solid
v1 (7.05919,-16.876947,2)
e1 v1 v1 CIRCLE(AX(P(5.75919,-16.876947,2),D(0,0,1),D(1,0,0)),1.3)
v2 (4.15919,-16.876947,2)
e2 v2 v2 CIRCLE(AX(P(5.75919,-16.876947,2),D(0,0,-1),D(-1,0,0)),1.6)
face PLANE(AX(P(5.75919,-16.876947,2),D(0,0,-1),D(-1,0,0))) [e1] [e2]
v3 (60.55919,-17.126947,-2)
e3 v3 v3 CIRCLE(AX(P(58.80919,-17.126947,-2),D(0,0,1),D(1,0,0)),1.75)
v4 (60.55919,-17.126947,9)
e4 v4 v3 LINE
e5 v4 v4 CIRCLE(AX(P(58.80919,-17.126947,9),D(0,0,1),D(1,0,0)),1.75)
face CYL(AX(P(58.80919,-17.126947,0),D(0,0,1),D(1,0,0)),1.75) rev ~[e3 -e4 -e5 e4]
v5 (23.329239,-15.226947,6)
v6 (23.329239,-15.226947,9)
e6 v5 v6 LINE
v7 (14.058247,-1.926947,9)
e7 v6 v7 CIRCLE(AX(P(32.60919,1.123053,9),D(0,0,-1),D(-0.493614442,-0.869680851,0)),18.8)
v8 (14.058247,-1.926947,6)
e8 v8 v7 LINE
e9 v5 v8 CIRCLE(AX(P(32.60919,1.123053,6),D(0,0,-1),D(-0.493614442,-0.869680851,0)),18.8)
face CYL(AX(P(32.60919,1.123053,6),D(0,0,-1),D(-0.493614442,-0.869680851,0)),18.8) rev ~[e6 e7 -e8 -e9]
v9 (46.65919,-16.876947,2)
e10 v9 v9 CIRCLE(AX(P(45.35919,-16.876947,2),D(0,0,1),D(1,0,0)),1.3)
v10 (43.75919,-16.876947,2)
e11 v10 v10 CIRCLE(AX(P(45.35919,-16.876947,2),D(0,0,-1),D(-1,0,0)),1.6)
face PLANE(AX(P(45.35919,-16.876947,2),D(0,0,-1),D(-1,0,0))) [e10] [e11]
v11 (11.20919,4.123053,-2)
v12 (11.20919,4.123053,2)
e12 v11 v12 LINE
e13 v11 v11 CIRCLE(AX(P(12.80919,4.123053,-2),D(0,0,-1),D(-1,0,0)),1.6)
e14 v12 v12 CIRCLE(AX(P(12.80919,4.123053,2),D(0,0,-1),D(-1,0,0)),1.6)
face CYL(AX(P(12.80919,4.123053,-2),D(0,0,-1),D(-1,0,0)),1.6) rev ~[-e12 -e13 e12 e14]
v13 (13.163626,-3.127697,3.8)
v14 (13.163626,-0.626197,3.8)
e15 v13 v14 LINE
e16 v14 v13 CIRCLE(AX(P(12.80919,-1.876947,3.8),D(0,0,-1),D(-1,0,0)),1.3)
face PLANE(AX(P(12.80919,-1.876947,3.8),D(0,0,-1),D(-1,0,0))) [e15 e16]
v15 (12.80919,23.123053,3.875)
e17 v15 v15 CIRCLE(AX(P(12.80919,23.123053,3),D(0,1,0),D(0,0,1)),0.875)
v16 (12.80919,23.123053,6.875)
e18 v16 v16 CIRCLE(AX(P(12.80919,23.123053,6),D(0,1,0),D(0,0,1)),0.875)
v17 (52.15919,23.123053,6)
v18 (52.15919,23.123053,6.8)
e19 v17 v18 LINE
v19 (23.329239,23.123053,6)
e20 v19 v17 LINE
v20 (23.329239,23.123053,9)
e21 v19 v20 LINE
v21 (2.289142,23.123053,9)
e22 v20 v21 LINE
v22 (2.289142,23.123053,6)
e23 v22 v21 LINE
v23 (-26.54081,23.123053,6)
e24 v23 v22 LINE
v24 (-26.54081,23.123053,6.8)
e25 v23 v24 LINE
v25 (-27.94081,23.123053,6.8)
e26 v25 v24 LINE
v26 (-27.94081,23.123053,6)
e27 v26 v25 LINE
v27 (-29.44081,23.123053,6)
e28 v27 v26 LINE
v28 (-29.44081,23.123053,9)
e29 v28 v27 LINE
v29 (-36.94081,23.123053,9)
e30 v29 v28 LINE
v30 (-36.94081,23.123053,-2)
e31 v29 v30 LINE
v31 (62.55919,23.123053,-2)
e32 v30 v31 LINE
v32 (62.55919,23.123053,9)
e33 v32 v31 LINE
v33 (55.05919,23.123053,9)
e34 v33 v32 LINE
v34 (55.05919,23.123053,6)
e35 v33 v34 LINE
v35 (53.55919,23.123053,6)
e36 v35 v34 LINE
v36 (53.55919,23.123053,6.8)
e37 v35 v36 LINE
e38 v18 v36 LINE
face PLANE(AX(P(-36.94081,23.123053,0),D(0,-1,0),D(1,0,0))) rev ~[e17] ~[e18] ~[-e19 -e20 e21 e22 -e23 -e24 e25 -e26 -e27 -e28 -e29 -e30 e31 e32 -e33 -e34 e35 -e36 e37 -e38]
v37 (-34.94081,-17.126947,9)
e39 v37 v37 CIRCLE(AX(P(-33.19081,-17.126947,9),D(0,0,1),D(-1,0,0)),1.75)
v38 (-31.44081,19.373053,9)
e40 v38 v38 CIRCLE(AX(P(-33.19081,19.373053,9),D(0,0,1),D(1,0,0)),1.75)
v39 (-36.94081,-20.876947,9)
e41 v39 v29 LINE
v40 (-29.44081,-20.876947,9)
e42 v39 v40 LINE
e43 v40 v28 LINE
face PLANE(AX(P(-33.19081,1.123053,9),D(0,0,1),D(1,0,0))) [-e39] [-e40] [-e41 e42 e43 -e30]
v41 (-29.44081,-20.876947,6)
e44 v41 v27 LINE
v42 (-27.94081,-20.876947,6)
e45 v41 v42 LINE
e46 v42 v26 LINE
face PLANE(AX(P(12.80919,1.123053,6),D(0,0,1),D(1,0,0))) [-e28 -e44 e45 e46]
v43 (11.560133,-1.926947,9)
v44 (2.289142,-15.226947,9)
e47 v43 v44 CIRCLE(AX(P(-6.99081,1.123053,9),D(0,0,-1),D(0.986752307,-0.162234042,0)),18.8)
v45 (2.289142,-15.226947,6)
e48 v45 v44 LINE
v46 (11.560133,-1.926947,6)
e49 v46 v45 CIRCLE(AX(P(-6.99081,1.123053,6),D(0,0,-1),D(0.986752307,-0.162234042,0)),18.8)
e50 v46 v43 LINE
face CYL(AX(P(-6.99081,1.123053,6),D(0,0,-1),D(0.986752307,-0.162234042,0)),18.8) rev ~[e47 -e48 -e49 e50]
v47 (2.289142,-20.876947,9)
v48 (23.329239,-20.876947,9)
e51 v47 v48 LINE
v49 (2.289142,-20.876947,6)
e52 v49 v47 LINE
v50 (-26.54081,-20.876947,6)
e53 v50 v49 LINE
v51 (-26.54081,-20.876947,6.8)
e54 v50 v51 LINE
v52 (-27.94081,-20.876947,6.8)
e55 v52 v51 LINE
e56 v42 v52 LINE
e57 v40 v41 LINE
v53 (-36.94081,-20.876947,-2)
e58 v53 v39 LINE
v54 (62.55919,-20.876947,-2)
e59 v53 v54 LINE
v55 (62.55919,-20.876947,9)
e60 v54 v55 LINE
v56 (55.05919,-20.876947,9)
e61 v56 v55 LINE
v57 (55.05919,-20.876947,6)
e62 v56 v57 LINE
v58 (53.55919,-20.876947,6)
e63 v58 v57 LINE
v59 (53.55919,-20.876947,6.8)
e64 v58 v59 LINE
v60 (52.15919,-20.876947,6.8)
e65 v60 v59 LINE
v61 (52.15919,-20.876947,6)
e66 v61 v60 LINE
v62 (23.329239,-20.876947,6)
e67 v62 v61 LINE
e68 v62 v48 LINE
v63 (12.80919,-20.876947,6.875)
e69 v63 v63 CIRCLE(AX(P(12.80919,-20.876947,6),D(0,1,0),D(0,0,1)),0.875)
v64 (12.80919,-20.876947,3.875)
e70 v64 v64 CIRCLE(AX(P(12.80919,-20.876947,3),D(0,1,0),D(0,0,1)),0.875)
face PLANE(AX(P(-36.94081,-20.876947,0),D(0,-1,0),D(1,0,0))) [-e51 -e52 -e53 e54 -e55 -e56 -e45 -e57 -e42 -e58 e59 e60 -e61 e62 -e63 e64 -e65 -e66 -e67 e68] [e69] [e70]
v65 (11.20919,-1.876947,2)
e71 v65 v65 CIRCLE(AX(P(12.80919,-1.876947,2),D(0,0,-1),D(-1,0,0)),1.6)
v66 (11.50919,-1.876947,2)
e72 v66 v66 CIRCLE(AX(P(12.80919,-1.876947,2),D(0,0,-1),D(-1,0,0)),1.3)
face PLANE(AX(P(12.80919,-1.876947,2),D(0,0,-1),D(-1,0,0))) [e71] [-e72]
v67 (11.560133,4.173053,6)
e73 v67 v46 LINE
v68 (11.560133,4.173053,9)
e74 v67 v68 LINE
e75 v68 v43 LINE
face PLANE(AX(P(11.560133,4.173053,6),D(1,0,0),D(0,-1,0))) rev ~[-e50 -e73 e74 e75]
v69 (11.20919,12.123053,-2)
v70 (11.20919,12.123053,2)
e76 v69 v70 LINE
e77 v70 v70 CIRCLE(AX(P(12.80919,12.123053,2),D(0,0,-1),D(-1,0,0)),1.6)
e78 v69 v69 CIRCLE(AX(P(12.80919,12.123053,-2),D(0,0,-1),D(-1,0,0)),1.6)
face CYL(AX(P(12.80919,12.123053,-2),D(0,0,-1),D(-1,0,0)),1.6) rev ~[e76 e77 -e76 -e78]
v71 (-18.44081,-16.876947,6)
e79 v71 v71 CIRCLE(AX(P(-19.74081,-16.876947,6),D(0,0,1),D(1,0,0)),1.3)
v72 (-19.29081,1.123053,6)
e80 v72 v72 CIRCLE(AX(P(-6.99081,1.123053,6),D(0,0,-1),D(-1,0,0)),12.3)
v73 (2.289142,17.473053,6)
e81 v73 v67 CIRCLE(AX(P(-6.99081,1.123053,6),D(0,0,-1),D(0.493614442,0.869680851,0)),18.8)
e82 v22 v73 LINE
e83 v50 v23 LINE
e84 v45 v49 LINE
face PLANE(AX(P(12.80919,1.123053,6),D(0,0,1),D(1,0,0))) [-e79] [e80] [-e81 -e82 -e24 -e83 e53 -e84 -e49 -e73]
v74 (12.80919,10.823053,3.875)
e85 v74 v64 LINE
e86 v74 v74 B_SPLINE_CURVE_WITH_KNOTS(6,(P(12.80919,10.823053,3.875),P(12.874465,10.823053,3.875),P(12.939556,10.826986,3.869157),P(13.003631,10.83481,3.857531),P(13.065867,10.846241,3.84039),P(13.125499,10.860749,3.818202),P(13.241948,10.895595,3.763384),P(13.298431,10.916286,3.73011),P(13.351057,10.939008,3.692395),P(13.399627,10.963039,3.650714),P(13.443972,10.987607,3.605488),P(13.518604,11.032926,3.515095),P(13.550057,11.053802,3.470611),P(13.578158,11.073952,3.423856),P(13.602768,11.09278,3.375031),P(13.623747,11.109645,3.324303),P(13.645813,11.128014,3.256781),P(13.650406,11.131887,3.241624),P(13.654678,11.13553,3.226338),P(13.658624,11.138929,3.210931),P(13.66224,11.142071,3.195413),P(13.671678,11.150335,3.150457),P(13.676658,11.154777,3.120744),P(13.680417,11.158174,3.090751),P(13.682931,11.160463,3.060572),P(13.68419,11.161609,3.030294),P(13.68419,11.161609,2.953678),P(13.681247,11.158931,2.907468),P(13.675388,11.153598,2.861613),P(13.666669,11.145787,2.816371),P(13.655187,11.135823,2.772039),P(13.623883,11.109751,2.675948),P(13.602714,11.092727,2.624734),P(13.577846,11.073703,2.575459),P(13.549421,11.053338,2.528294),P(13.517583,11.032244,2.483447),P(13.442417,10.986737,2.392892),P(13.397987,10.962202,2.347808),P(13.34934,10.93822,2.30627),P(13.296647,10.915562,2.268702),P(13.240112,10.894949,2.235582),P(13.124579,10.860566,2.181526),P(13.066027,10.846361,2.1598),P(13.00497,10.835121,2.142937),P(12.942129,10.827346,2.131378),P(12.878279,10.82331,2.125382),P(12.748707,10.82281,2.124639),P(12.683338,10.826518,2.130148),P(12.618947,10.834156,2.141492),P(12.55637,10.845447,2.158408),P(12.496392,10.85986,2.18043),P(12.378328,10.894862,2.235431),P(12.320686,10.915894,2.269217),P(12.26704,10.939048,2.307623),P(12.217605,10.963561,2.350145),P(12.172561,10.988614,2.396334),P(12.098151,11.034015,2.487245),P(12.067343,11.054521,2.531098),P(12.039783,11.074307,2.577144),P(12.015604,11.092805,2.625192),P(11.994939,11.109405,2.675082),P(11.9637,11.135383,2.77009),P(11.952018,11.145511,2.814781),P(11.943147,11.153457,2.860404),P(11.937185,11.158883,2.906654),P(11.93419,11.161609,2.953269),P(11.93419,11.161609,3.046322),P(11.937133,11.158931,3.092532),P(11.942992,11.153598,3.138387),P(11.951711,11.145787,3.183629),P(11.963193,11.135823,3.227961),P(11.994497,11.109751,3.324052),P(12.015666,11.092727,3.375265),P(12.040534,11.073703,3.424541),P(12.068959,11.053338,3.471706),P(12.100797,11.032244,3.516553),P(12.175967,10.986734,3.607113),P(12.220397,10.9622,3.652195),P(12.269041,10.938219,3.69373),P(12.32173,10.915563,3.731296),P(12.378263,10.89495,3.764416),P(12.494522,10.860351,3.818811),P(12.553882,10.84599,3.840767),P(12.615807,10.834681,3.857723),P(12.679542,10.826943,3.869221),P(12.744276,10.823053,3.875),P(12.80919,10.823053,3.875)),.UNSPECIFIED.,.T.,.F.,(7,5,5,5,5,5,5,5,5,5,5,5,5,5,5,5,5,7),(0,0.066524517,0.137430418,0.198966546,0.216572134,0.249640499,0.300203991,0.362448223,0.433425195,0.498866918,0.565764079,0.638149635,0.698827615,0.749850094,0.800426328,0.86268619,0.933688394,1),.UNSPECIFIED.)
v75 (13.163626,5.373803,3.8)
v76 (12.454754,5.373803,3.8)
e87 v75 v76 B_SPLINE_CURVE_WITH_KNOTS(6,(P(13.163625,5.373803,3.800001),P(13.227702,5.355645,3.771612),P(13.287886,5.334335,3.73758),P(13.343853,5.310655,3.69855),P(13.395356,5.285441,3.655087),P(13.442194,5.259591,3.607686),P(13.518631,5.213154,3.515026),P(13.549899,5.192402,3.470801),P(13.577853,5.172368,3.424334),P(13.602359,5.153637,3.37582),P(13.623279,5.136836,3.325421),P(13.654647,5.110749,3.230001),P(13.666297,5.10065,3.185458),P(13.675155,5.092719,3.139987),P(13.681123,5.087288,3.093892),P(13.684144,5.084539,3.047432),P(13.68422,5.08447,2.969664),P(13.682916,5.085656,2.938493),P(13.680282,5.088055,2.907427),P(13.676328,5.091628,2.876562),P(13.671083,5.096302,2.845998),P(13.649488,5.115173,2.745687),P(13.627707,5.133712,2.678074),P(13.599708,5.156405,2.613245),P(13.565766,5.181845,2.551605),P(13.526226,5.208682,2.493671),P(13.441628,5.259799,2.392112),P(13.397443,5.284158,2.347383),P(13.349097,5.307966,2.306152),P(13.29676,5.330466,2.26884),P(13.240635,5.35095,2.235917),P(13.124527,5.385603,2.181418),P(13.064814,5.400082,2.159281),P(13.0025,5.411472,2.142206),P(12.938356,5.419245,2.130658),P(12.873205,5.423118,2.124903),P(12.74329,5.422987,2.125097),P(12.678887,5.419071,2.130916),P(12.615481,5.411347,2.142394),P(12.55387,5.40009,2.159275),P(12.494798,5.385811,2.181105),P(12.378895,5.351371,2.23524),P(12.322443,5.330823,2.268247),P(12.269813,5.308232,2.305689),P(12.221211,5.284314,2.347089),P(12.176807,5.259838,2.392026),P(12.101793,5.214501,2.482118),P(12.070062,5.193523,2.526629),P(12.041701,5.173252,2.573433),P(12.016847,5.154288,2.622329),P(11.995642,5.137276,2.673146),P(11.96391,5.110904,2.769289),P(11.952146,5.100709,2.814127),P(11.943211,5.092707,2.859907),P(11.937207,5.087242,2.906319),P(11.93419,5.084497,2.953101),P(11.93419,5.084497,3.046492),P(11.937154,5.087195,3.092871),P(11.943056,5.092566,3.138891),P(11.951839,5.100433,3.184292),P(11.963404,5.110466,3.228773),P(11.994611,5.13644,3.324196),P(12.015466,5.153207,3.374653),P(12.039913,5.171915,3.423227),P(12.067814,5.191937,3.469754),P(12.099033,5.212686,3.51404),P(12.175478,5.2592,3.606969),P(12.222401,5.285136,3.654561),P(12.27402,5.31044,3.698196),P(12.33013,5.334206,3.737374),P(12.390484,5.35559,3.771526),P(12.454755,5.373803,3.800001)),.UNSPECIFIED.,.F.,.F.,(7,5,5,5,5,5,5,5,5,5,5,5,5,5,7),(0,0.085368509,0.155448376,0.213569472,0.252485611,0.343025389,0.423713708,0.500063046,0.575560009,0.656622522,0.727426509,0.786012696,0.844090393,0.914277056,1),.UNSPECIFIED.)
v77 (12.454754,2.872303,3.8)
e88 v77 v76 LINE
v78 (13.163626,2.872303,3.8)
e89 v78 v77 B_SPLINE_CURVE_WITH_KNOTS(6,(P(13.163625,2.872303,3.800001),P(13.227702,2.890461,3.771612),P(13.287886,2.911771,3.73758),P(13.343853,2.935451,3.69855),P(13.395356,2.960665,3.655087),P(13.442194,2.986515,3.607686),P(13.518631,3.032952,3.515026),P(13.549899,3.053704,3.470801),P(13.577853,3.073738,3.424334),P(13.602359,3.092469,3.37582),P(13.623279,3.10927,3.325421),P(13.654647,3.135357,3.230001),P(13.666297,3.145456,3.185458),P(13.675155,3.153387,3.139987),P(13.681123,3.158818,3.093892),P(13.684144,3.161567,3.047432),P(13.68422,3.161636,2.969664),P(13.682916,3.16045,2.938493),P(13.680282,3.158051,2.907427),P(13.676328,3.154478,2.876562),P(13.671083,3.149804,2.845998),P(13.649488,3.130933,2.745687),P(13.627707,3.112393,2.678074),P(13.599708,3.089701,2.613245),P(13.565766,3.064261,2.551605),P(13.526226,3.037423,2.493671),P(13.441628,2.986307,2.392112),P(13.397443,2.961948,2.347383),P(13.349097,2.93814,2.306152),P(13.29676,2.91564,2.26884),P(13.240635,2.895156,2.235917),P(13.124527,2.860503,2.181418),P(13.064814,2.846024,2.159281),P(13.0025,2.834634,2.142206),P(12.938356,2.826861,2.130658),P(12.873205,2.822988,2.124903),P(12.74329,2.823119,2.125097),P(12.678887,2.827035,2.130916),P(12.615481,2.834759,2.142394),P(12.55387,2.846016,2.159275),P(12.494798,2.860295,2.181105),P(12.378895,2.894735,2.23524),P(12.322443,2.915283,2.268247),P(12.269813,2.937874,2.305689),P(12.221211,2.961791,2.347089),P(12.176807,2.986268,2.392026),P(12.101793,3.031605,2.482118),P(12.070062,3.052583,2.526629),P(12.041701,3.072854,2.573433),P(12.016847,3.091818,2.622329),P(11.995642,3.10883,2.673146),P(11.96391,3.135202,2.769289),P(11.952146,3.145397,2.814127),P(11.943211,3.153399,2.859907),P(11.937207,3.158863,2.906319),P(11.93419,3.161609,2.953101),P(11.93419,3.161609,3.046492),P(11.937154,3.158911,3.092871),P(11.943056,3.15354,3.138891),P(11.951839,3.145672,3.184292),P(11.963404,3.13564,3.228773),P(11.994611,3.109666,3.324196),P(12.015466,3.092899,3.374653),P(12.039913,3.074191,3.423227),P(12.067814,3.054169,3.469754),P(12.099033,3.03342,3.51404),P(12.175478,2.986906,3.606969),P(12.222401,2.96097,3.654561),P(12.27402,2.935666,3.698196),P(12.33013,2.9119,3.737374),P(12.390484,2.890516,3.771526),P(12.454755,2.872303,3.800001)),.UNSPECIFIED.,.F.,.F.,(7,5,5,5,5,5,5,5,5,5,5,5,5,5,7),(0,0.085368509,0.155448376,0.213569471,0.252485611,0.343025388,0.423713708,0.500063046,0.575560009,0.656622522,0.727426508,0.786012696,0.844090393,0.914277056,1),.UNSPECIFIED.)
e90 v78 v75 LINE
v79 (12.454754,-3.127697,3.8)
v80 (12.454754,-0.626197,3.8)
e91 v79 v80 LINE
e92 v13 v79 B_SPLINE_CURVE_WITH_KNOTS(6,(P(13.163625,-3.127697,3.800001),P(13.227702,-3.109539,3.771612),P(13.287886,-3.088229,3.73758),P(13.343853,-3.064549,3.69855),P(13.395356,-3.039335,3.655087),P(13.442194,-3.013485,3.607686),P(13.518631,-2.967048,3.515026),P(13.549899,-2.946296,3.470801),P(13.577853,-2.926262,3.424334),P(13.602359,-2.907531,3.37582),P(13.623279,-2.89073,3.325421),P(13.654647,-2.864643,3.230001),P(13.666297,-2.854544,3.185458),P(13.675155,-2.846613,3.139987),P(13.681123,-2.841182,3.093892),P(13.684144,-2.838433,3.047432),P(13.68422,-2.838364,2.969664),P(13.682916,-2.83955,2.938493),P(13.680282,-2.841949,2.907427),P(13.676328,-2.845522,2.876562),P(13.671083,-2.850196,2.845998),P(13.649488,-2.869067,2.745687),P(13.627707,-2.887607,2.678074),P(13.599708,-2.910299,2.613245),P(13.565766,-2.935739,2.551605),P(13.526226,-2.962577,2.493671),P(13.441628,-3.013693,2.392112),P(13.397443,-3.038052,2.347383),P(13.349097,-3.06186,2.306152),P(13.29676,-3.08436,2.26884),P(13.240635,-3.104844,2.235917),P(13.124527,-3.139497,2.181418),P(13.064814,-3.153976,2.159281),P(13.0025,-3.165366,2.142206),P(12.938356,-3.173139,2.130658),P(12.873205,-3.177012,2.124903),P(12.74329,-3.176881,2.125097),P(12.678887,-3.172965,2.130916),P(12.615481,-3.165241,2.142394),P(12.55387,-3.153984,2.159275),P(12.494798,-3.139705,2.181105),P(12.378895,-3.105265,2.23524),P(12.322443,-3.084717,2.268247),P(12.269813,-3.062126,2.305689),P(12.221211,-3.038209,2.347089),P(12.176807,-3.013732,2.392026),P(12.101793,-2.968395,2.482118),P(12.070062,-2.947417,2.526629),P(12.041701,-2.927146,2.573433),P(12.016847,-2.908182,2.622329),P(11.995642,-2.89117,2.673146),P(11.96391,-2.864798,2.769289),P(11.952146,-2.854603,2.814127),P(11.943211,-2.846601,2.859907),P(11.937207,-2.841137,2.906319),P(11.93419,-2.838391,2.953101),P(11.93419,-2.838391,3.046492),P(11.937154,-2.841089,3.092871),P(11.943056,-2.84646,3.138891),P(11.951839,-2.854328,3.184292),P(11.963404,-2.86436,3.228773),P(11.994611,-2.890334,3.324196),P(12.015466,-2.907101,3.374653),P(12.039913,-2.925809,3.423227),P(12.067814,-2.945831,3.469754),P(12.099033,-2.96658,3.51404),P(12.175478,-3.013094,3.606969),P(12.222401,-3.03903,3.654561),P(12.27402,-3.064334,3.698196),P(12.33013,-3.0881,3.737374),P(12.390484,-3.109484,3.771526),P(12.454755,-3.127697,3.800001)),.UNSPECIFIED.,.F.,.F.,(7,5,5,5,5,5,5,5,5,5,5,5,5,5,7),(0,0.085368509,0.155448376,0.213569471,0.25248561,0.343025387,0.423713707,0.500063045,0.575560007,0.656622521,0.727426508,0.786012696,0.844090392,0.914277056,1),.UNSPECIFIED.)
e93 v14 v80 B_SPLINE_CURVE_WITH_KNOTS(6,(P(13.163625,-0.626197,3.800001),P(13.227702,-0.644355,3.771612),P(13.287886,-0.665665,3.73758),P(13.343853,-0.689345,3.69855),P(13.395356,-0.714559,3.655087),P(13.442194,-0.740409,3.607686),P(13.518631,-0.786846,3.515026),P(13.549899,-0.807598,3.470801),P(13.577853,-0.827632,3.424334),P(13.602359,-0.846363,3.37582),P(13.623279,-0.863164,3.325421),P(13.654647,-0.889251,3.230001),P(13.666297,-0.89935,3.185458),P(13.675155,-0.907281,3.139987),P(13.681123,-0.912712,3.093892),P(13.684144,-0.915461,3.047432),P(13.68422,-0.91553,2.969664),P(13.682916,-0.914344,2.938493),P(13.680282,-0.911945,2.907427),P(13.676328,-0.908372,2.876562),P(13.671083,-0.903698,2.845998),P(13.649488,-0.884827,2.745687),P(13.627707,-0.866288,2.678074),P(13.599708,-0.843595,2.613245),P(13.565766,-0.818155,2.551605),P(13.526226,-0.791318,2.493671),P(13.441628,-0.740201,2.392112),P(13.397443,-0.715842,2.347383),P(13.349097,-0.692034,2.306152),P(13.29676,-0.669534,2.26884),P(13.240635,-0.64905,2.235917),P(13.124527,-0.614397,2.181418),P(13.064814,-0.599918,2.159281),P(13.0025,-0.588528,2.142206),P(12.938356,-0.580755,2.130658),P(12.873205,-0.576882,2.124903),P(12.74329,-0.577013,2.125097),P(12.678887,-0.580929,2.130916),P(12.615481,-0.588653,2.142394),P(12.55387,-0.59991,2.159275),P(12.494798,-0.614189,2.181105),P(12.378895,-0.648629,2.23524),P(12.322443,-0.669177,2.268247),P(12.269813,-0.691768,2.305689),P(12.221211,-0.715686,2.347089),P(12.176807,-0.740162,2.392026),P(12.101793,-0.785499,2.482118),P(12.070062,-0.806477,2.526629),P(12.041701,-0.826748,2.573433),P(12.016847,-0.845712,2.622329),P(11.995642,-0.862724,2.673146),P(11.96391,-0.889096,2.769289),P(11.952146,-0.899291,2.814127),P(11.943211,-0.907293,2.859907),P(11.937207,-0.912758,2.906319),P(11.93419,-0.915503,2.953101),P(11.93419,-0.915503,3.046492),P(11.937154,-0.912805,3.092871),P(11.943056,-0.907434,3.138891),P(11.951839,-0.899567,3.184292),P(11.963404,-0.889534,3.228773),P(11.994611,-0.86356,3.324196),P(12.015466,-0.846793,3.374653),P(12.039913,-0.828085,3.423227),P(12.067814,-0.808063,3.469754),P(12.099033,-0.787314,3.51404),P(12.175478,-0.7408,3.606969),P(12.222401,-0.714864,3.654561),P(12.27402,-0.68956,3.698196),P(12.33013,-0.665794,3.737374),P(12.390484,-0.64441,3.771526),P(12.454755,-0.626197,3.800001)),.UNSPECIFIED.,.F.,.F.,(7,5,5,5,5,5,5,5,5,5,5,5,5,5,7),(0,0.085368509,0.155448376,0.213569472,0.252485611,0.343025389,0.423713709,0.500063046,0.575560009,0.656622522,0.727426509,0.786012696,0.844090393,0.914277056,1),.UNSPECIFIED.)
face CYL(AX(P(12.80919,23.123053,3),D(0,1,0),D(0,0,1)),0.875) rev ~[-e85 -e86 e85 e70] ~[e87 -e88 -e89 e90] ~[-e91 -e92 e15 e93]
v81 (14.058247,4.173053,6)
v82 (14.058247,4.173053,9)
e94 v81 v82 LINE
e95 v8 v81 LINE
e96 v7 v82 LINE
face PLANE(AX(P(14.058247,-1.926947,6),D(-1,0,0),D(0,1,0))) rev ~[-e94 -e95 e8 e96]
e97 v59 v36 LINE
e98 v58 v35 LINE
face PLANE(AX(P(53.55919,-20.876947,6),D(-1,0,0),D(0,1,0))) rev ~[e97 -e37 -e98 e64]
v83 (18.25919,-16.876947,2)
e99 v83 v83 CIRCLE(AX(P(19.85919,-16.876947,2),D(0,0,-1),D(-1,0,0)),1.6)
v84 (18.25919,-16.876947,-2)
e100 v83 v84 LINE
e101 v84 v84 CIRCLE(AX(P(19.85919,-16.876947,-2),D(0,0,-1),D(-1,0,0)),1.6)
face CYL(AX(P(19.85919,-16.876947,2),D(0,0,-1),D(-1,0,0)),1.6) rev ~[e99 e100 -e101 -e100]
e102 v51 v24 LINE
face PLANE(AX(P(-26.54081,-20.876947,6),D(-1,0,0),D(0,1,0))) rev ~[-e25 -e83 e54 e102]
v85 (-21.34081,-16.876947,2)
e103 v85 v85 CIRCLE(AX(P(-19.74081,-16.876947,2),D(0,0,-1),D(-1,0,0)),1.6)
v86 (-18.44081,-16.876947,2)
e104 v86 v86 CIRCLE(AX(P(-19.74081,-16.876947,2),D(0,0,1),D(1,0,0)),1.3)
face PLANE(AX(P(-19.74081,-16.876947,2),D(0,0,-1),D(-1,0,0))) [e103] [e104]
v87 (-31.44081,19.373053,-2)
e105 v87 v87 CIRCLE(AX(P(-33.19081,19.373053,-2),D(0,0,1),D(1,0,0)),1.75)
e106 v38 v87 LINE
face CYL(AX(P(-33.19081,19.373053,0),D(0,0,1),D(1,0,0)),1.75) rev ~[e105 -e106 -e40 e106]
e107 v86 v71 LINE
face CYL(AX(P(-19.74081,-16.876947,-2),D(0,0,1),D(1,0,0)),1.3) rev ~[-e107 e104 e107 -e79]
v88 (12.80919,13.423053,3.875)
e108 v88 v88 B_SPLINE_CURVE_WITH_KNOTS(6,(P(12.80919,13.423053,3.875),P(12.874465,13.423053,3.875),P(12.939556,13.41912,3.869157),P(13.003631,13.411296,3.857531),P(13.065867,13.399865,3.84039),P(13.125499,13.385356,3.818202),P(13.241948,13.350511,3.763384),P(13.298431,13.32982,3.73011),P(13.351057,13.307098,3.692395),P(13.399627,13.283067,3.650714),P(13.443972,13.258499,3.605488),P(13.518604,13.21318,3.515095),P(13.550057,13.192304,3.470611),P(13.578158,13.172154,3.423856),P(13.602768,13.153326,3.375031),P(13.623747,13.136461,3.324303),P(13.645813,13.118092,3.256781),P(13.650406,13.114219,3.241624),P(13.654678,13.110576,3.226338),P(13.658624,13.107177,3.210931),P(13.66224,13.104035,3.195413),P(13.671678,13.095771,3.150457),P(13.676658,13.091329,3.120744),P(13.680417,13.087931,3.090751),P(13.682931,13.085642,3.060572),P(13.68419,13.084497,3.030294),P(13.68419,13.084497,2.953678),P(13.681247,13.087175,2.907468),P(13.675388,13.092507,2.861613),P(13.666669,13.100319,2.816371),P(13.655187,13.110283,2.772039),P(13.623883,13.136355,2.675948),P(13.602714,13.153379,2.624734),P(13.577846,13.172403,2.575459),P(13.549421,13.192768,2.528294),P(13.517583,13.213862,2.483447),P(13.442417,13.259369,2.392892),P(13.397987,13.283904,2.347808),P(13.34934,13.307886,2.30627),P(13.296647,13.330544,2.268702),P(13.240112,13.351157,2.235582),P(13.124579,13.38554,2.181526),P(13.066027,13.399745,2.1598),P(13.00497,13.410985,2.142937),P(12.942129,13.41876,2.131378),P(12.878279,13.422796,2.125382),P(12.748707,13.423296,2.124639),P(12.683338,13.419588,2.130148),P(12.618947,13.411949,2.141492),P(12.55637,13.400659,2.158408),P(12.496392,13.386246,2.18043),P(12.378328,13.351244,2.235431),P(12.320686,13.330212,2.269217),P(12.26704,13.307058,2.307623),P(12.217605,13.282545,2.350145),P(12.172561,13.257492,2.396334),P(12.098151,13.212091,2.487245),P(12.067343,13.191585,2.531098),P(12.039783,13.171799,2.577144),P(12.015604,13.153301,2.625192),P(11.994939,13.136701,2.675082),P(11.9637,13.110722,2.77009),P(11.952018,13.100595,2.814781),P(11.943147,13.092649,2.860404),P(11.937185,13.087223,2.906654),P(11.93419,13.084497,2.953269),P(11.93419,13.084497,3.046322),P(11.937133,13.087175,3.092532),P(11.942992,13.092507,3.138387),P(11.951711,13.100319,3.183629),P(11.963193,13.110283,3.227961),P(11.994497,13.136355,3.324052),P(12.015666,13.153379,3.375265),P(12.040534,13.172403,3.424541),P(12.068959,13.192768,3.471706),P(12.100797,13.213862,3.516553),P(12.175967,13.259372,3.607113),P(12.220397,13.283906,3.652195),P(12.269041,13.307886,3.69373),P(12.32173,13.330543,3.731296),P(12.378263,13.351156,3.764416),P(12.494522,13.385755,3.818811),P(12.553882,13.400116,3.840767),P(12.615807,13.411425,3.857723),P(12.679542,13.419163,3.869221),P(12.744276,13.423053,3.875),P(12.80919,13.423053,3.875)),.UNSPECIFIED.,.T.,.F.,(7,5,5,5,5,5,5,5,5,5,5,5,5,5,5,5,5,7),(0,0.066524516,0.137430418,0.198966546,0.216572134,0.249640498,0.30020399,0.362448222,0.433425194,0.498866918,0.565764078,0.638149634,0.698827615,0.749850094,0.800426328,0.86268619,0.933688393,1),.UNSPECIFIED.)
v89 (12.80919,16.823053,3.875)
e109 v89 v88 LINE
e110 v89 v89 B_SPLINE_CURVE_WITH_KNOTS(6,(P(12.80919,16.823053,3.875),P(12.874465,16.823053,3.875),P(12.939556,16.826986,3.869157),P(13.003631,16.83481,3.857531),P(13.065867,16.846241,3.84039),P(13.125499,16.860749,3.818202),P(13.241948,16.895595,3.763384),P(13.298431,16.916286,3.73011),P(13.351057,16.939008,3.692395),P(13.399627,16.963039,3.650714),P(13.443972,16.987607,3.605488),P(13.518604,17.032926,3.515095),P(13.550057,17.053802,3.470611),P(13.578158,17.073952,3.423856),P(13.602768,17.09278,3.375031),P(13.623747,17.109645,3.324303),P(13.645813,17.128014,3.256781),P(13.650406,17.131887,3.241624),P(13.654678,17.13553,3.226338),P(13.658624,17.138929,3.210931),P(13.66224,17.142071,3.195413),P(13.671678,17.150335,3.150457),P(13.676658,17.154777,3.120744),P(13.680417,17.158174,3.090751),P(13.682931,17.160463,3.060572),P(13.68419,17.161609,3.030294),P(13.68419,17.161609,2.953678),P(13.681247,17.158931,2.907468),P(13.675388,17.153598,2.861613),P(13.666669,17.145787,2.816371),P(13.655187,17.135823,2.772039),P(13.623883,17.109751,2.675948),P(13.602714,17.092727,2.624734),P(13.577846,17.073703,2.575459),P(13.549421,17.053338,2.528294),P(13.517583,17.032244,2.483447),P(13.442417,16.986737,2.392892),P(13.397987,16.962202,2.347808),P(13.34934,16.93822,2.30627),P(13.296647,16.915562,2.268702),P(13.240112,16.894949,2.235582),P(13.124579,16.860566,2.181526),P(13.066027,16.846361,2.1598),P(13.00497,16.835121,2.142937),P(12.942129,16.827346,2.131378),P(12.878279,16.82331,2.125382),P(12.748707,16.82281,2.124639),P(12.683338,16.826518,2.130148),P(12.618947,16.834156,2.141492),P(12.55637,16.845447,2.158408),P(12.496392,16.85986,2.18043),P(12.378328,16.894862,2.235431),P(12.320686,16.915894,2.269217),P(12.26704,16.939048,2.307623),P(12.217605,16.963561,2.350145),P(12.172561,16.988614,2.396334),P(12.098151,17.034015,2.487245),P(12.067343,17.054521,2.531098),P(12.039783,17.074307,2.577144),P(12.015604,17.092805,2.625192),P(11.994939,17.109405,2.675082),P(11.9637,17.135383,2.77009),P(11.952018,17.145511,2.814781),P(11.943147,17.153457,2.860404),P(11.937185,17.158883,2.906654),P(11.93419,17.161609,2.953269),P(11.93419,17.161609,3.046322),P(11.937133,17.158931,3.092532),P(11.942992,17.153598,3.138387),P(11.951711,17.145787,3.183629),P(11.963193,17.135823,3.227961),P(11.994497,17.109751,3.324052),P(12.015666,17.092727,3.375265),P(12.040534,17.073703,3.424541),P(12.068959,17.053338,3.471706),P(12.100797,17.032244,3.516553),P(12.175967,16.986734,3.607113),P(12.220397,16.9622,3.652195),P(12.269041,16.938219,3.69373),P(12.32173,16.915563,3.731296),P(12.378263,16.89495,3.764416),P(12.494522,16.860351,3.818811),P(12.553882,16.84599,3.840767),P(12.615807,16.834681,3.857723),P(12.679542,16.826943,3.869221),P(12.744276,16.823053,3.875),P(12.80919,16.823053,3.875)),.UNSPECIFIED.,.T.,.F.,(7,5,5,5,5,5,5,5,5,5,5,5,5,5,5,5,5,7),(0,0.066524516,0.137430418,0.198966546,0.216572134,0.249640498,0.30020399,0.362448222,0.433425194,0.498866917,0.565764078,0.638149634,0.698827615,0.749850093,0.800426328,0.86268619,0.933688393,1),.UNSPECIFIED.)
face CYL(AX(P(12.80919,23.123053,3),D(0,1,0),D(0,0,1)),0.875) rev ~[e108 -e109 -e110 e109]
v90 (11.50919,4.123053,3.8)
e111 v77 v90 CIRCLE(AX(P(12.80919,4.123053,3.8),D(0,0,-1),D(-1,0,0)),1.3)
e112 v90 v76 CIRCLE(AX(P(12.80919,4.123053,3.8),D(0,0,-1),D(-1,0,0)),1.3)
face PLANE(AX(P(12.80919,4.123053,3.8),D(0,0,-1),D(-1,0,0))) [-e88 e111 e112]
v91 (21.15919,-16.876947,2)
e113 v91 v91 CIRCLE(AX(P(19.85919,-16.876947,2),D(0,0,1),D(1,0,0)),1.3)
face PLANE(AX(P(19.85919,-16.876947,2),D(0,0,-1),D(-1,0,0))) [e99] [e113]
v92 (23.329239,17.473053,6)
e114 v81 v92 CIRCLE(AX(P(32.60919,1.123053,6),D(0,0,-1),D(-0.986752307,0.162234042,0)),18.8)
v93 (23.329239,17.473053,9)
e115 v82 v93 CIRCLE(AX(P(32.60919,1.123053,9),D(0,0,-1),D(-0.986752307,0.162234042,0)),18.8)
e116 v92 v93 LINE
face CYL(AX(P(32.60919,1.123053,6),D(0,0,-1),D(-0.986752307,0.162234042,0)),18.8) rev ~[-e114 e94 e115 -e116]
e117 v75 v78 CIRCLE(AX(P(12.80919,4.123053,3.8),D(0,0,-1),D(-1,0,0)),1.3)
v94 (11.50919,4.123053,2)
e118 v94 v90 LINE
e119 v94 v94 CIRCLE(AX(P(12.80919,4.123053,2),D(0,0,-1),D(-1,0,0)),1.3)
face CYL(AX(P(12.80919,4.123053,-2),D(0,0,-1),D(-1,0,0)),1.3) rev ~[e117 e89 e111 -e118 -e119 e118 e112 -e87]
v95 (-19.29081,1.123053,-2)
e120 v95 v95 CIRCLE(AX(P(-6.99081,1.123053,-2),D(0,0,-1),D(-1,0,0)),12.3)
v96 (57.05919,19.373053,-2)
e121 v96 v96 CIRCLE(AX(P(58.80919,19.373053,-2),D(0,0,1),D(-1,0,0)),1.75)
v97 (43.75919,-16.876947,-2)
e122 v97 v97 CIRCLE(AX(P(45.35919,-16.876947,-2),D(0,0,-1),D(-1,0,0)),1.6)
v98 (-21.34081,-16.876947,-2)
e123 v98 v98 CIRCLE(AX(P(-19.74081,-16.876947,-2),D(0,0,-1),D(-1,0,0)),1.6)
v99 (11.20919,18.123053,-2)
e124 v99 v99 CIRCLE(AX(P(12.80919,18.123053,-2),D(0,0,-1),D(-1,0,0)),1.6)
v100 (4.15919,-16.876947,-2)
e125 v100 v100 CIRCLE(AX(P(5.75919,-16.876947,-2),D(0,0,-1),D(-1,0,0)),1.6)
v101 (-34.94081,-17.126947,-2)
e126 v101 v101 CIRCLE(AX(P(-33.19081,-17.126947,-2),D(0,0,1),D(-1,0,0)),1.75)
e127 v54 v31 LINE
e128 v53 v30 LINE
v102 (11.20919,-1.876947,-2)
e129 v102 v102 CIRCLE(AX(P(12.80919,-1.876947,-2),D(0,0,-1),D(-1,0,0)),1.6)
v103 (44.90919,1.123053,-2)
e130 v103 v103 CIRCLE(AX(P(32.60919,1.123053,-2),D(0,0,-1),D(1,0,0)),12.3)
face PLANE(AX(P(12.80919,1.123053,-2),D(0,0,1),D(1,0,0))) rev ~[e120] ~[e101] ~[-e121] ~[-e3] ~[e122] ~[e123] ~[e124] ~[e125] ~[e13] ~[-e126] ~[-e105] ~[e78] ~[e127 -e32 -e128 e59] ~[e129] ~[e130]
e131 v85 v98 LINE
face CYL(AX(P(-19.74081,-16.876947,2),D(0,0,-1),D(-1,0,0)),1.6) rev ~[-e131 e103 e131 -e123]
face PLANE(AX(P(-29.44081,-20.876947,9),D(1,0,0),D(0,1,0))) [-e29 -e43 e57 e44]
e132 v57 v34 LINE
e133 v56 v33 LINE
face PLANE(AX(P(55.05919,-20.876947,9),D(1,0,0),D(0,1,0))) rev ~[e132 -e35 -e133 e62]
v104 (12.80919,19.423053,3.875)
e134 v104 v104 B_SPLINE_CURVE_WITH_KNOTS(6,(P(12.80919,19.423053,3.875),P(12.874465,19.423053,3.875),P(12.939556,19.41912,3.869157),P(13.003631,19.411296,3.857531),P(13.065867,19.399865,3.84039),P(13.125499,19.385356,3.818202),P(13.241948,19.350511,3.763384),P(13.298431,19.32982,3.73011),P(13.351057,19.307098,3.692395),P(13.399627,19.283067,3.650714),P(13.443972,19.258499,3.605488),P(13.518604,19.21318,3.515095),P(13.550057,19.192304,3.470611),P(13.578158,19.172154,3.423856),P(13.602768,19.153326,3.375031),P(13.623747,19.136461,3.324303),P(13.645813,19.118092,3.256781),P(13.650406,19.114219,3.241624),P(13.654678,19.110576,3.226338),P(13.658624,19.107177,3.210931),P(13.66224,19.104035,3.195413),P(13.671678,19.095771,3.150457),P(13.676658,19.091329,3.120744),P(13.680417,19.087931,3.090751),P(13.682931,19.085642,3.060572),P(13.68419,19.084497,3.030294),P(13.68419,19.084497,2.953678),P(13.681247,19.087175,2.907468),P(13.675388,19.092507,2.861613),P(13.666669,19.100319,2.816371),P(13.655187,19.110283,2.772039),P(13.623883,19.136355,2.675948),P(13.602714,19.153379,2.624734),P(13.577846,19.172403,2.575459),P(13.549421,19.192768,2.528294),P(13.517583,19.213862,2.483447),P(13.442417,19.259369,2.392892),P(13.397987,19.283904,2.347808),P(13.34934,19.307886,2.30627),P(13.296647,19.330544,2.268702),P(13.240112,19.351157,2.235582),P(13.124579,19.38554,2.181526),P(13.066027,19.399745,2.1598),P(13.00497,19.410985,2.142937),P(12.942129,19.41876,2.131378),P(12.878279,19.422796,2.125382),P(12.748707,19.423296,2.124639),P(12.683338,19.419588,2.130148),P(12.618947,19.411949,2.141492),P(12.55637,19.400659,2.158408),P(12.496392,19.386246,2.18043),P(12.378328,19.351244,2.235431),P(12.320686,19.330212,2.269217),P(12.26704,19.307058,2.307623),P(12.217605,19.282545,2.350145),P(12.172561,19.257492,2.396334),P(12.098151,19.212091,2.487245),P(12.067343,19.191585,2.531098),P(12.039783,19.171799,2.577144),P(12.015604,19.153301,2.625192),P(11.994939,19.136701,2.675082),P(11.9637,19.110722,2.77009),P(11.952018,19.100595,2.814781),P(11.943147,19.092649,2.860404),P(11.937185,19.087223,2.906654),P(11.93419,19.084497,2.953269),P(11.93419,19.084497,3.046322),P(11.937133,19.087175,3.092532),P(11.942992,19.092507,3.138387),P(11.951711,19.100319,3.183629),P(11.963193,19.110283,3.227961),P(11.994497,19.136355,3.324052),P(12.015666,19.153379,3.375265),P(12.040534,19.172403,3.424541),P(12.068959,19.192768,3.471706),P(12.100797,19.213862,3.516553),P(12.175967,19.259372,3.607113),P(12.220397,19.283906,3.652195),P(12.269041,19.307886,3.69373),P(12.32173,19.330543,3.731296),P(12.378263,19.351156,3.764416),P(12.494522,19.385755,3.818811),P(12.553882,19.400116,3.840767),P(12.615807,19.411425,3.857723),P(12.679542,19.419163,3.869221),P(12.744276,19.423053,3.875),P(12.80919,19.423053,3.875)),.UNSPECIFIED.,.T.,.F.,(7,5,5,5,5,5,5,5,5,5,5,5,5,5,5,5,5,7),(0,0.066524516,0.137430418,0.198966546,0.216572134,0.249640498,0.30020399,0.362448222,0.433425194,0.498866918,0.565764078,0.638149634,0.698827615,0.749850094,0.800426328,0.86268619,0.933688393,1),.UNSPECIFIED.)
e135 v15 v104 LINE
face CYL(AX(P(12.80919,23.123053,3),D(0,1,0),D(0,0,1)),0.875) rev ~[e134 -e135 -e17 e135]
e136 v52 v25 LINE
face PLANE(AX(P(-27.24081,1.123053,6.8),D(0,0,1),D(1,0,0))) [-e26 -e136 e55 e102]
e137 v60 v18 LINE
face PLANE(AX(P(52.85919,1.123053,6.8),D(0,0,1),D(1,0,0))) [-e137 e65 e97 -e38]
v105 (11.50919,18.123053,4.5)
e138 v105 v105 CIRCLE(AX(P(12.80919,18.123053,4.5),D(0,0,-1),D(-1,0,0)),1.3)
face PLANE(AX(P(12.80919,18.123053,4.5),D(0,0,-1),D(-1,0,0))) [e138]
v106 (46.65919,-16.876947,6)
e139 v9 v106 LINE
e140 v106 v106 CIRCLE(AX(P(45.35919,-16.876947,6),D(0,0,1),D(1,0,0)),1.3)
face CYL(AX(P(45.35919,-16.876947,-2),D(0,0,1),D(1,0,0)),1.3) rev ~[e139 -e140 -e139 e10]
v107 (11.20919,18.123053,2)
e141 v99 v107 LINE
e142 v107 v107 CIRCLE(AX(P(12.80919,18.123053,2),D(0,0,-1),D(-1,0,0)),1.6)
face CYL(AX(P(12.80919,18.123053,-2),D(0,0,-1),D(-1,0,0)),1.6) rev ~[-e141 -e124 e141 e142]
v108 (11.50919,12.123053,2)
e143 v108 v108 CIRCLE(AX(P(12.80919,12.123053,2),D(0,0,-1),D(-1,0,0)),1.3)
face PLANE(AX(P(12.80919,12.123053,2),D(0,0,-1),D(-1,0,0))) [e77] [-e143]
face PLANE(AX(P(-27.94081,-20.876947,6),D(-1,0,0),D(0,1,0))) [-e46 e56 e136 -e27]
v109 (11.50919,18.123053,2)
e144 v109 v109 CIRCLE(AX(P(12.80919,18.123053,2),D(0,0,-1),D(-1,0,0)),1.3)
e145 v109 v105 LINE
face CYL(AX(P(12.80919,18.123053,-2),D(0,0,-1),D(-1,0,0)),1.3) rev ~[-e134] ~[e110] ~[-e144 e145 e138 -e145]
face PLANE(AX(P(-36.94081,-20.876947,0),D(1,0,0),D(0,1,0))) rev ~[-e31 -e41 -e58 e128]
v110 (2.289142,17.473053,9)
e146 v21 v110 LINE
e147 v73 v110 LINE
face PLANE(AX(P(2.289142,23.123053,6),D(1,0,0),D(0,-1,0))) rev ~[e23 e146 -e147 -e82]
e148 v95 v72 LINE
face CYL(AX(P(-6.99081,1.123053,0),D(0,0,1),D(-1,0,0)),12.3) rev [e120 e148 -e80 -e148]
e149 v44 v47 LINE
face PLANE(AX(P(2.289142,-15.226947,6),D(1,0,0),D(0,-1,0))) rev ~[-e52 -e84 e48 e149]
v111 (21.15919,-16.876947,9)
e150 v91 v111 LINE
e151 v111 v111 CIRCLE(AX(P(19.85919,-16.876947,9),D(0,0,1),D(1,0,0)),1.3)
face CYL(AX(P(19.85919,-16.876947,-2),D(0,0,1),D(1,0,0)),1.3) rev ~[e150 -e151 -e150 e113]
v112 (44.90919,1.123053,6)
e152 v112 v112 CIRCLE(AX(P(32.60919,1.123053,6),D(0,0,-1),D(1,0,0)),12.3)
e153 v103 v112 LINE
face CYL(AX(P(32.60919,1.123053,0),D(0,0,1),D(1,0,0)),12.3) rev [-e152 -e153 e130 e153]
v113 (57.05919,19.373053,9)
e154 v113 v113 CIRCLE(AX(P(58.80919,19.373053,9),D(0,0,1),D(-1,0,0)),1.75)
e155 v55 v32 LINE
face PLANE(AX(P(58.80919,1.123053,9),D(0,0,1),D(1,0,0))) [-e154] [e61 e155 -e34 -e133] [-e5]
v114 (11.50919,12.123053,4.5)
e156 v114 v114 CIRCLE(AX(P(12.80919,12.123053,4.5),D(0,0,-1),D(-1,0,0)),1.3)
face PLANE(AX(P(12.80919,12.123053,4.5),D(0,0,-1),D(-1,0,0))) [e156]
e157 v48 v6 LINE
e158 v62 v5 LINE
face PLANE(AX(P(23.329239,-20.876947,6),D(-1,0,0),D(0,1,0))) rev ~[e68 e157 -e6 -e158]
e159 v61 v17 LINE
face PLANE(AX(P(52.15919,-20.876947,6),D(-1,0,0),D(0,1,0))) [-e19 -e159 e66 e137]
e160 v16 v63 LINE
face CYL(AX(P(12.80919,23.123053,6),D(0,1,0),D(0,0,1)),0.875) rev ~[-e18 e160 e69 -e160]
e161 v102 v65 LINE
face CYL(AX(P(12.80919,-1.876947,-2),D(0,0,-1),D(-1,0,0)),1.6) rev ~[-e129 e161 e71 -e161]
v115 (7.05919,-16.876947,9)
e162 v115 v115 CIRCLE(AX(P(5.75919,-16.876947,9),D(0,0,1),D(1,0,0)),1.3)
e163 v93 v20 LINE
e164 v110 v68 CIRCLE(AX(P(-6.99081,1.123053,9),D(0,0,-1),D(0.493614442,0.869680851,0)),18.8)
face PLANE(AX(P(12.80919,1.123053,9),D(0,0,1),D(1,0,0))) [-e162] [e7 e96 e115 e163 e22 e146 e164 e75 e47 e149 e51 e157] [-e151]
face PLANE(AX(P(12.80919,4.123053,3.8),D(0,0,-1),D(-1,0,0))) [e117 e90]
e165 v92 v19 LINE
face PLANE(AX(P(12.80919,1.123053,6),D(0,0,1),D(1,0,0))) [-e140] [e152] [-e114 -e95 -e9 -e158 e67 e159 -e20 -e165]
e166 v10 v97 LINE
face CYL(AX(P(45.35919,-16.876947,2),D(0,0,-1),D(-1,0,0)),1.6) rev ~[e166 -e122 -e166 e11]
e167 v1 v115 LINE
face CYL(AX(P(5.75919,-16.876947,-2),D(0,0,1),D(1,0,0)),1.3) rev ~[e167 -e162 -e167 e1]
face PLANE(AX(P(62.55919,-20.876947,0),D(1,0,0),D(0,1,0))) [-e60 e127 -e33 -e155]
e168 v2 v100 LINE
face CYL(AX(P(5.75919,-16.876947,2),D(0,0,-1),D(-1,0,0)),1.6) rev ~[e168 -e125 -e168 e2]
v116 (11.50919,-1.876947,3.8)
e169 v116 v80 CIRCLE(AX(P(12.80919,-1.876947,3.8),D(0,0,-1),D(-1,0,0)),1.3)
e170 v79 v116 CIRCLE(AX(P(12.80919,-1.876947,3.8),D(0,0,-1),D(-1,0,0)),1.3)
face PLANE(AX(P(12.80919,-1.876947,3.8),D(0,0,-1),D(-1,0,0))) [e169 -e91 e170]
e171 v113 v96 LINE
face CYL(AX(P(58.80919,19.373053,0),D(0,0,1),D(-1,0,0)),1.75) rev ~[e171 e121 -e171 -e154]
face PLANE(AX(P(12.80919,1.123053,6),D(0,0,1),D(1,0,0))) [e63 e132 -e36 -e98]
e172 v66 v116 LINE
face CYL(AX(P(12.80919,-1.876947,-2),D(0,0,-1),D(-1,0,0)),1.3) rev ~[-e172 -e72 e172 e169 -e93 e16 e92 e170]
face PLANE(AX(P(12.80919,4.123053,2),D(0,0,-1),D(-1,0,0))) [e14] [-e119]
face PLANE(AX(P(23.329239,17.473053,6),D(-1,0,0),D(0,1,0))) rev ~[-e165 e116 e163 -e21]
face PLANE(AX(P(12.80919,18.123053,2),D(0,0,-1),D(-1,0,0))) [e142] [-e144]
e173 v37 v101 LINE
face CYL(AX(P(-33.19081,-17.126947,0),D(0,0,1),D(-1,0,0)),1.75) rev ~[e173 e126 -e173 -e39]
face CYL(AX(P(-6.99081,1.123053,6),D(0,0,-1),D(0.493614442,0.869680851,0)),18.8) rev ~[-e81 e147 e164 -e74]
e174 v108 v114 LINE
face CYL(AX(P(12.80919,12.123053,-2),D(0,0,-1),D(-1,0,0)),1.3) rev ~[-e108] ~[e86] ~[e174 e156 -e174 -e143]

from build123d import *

# Parameters (mm, degrees)
SKETCH1_W                               = 99.5
SKETCH1_H                               = 44
BOSS_EXTRUDE1_DEPTH                     = 6
SKETCH5_R                               = 12.3
CUT_EXTRUDE1_DEPTH                      = 6
SKETCH5_5_R                             = 12.3
CUT_EXTRUDE4_DEPTH                      = 6
SKETCH2_R                               = 1.75
CUT_EXTRUDE8_DEPTH                      = 6
BOSS_EXTRUDE5_START                     = 3
SKETCH2_15_W                            = 7.5
SKETCH2_15_H                            = 44
SKETCH2_15_R                            = 1.75
BOSS_EXTRUDE5_DEPTH                     = 3
BOSS_EXTRUDE6_DEPTH                     = 3
SKETCH8_W                               = 1.4
SKETCH8_H                               = 44
BOSS_EXTRUDE7_DEPTH                     = 0.8
MOVE_FACE3_BY                           = 2
SKETCH9_W                               = 1.4
SKETCH9_H                               = 44
BOSS_EXTRUDE8_DEPTH                     = 0.8
SKETCH12_R                              = 0.875
CUT_EXTRUDE13_DEPTH                     = 44
SKETCH14_R                              = 1.3
CUT_EXTRUDE15_DEPTH                     = 6.5
SKETCH15_R                              = 1.6
CUT_EXTRUDE17_DEPTH                     = 4
SKETCH17_R                              = 1.3
CUT_EXTRUDE18_DEPTH                     = 5.8
SKETCH18_R                              = 1.6
CUT_EXTRUDE19_DEPTH                     = 4
CBORE_FOR_M5_HEX_HEAD_BOLT1_D           = 2.6
CBORE_FOR_M5_HEX_HEAD_BOLT1_CBORE_D     = 3.2
CBORE_FOR_M5_HEX_HEAD_BOLT1_CBORE_DEPTH = 4


with BuildPart() as part:
    # Sketch1 → Boss-Extrude1 (new body)
    with BuildSketch(Plane.XY):
        with Locations((12.809190031, 1.12305296)):
            Rectangle(SKETCH1_W, SKETCH1_H)
    extrude(amount=BOSS_EXTRUDE1_DEPTH)

    # Sketch5 → Cut-Extrude1 (cut)
    with BuildSketch(Plane(origin=(0, 0, 0), x_dir=(-1, 0, 0), z_dir=(0, 0, -1))):
        with Locations((-32.609190031, 1.12305296)):
            Circle(SKETCH5_R)
    extrude(amount=-CUT_EXTRUDE1_DEPTH, mode=Mode.SUBTRACT)

    # Sketch5<5> → Cut-Extrude4 (cut)
    with BuildSketch(Plane(origin=(0, 0, 0), x_dir=(-1, 0, 0), z_dir=(0, 0, -1))):
        with Locations((6.990809969, 1.12305296)):
            Circle(SKETCH5_5_R)
        with Locations((-32.609190031, 1.12305296)):
            Circle(SKETCH5_5_R)
    extrude(amount=-CUT_EXTRUDE4_DEPTH, mode=Mode.SUBTRACT)

    # Sketch2 → Cut-Extrude8 (cut)
    with BuildSketch(Plane.XY.offset(6)):
        with Locations((-33.190809969, 19.37305296)):
            Circle(SKETCH2_R)
        with Locations((58.809190031, 19.37305296)):
            Circle(SKETCH2_R)
        with Locations((58.809190031, -17.12694704)):
            Circle(SKETCH2_R)
        with Locations((-33.190809969, -17.12694704)):
            Circle(SKETCH2_R)
    extrude(amount=-CUT_EXTRUDE8_DEPTH, mode=Mode.SUBTRACT)

    # Sketch2<15> → Boss-Extrude5 (add)
    # profile 1 of 2: a face of its own
    with BuildSketch(Plane.XY.offset(6).offset(BOSS_EXTRUDE5_START)):
        with Locations((-33.190809969, 1.12305296)):
            Rectangle(SKETCH2_15_W, SKETCH2_15_H)
        with Locations((-33.190809969, 19.37305296)):
            Circle(SKETCH2_15_R, mode=Mode.SUBTRACT)
        with Locations((-33.190809969, -17.12694704)):
            Circle(SKETCH2_15_R, mode=Mode.SUBTRACT)
    # profile 2 of 2: a face of its own
    with BuildSketch(Plane.XY.offset(6).offset(BOSS_EXTRUDE5_START)):
        with Locations((58.809190031, 1.12305296)):
            Rectangle(SKETCH2_15_W, SKETCH2_15_H)
        with Locations((58.809190031, 19.37305296)):
            Circle(SKETCH2_15_R, mode=Mode.SUBTRACT)
        with Locations((58.809190031, -17.12694704)):
            Circle(SKETCH2_15_R, mode=Mode.SUBTRACT)
    extrude(amount=-BOSS_EXTRUDE5_DEPTH)

    # Sketch6 → Boss-Extrude6 (add)
    with BuildSketch(Plane.XY.offset(6)):
        with BuildLine():
            Line((11.559190031, -20.87694704), (14.059190031, -20.87694704))
            Line((14.059190031, -20.87694704), (23.329238523, -20.87694704))
            Line((23.329238523, -20.87694704), (23.329238523, -15.22694704))
            ThreePointArc((23.329238523, -15.22694704), (17.186408911, -9.627659693), (14.058246659, -1.92694704))
            Line((14.058246659, -1.92694704), (14.058246659, 4.17305296))
            ThreePointArc((14.058246659, 4.17305296), (17.186408911, 11.873765612), (23.329238523, 17.47305296))
            Line((23.329238523, 17.47305296), (23.329238523, 23.12305296))
            Line((23.329238523, 23.12305296), (14.059190031, 23.12305296))
            Line((14.059190031, 23.12305296), (11.559190031, 23.12305296))
            Line((11.559190031, 23.12305296), (2.28914154, 23.12305296))
            Line((2.28914154, 23.12305296), (2.28914154, 17.47305296))
            ThreePointArc((2.28914154, 17.47305296), (8.431971151, 11.873765612), (11.560133403, 4.17305296))
            Line((11.560133403, 4.17305296), (11.560133403, -1.92694704))
            ThreePointArc((11.560133403, -1.92694704), (8.431971151, -9.627659693), (2.28914154, -15.22694704))
            Line((2.28914154, -15.22694704), (2.28914154, -20.87694704))
            Line((2.28914154, -20.87694704), (11.559190031, -20.87694704))
        make_face()
    extrude(amount=BOSS_EXTRUDE6_DEPTH)

    # Sketch8 → Boss-Extrude7 (add)
    with BuildSketch(Plane.XY.offset(6)):
        with Locations((-27.240809969, 1.12305296)):
            Rectangle(SKETCH8_W, SKETCH8_H)
    extrude(amount=BOSS_EXTRUDE7_DEPTH)

    # Move Face3: a face moved outward by 2.0
    extrude(part.faces().sort_by_distance((12.809190031, 1.12305296, 0))[0], amount=MOVE_FACE3_BY, dir=(0, 0, -1))

    # Sketch9 → Boss-Extrude8 (add)
    with BuildSketch(Plane.XY.offset(6)):
        with Locations((52.859190031, 1.12305296)):
            Rectangle(SKETCH9_W, SKETCH9_H)
    extrude(amount=BOSS_EXTRUDE8_DEPTH)

    # Sketch12 → Cut-Extrude13 (cut)
    with BuildSketch(Plane(origin=(0, 23.12305296, 0), x_dir=(1, 0, 0), z_dir=(0, 1, 0))):
        with Locations((12.809190031, -3)):
            Circle(SKETCH12_R)
        with Locations((12.809190031, -6)):
            Circle(SKETCH12_R)
    extrude(amount=-CUT_EXTRUDE13_DEPTH, mode=Mode.SUBTRACT)

    # Sketch14 → Cut-Extrude15 (cut)
    with BuildSketch(Plane(origin=(0, 0, -2), x_dir=(-1, 0, 0), z_dir=(0, 0, -1))):
        with Locations((-12.809190031, 18.12305296)):
            Circle(SKETCH14_R)
        with Locations((-12.809190031, 12.12305296)):
            Circle(SKETCH14_R)
    extrude(amount=-CUT_EXTRUDE15_DEPTH, mode=Mode.SUBTRACT)

    # Sketch15 → Cut-Extrude17 (cut)
    with BuildSketch(Plane(origin=(0, 0, -2), x_dir=(-1, 0, 0), z_dir=(0, 0, -1))):
        with Locations((-12.809190031, 18.12305296)):
            Circle(SKETCH15_R)
        with Locations((-12.809190031, 12.12305296)):
            Circle(SKETCH15_R)
    extrude(amount=-CUT_EXTRUDE17_DEPTH, mode=Mode.SUBTRACT)

    # Sketch17 → Cut-Extrude18 (cut)
    with BuildSketch(Plane(origin=(0, 0, -2), x_dir=(-1, 0, 0), z_dir=(0, 0, -1))):
        with Locations((-12.809190031, 4.12305296)):
            Circle(SKETCH17_R)
        with Locations((-12.809190031, -1.87694704)):
            Circle(SKETCH17_R)
    extrude(amount=-CUT_EXTRUDE18_DEPTH, mode=Mode.SUBTRACT)

    # Sketch18 → Cut-Extrude19 (cut)
    with BuildSketch(Plane(origin=(0, 0, -2), x_dir=(-1, 0, 0), z_dir=(0, 0, -1))):
        with Locations((-12.809190031, 4.12305296)):
            Circle(SKETCH18_R)
        with Locations((-12.809190031, -1.87694704)):
            Circle(SKETCH18_R)
    extrude(amount=-CUT_EXTRUDE19_DEPTH, mode=Mode.SUBTRACT)

    # CBORE for M5 Hex Head Bolt1 (through all)
    with Locations(Plane(origin=(45.359190031, -16.87694704, -2), x_dir=(-1, 0, 0), z_dir=(0, 0, -1))):
        with Locations((0, 0), (25.5, 0), (39.6, 0), (65.1, 0)):
            CounterBoreHole(CBORE_FOR_M5_HEX_HEAD_BOLT1_D / 2, CBORE_FOR_M5_HEX_HEAD_BOLT1_CBORE_D / 2, CBORE_FOR_M5_HEX_HEAD_BOLT1_CBORE_DEPTH)


solid = part.part
